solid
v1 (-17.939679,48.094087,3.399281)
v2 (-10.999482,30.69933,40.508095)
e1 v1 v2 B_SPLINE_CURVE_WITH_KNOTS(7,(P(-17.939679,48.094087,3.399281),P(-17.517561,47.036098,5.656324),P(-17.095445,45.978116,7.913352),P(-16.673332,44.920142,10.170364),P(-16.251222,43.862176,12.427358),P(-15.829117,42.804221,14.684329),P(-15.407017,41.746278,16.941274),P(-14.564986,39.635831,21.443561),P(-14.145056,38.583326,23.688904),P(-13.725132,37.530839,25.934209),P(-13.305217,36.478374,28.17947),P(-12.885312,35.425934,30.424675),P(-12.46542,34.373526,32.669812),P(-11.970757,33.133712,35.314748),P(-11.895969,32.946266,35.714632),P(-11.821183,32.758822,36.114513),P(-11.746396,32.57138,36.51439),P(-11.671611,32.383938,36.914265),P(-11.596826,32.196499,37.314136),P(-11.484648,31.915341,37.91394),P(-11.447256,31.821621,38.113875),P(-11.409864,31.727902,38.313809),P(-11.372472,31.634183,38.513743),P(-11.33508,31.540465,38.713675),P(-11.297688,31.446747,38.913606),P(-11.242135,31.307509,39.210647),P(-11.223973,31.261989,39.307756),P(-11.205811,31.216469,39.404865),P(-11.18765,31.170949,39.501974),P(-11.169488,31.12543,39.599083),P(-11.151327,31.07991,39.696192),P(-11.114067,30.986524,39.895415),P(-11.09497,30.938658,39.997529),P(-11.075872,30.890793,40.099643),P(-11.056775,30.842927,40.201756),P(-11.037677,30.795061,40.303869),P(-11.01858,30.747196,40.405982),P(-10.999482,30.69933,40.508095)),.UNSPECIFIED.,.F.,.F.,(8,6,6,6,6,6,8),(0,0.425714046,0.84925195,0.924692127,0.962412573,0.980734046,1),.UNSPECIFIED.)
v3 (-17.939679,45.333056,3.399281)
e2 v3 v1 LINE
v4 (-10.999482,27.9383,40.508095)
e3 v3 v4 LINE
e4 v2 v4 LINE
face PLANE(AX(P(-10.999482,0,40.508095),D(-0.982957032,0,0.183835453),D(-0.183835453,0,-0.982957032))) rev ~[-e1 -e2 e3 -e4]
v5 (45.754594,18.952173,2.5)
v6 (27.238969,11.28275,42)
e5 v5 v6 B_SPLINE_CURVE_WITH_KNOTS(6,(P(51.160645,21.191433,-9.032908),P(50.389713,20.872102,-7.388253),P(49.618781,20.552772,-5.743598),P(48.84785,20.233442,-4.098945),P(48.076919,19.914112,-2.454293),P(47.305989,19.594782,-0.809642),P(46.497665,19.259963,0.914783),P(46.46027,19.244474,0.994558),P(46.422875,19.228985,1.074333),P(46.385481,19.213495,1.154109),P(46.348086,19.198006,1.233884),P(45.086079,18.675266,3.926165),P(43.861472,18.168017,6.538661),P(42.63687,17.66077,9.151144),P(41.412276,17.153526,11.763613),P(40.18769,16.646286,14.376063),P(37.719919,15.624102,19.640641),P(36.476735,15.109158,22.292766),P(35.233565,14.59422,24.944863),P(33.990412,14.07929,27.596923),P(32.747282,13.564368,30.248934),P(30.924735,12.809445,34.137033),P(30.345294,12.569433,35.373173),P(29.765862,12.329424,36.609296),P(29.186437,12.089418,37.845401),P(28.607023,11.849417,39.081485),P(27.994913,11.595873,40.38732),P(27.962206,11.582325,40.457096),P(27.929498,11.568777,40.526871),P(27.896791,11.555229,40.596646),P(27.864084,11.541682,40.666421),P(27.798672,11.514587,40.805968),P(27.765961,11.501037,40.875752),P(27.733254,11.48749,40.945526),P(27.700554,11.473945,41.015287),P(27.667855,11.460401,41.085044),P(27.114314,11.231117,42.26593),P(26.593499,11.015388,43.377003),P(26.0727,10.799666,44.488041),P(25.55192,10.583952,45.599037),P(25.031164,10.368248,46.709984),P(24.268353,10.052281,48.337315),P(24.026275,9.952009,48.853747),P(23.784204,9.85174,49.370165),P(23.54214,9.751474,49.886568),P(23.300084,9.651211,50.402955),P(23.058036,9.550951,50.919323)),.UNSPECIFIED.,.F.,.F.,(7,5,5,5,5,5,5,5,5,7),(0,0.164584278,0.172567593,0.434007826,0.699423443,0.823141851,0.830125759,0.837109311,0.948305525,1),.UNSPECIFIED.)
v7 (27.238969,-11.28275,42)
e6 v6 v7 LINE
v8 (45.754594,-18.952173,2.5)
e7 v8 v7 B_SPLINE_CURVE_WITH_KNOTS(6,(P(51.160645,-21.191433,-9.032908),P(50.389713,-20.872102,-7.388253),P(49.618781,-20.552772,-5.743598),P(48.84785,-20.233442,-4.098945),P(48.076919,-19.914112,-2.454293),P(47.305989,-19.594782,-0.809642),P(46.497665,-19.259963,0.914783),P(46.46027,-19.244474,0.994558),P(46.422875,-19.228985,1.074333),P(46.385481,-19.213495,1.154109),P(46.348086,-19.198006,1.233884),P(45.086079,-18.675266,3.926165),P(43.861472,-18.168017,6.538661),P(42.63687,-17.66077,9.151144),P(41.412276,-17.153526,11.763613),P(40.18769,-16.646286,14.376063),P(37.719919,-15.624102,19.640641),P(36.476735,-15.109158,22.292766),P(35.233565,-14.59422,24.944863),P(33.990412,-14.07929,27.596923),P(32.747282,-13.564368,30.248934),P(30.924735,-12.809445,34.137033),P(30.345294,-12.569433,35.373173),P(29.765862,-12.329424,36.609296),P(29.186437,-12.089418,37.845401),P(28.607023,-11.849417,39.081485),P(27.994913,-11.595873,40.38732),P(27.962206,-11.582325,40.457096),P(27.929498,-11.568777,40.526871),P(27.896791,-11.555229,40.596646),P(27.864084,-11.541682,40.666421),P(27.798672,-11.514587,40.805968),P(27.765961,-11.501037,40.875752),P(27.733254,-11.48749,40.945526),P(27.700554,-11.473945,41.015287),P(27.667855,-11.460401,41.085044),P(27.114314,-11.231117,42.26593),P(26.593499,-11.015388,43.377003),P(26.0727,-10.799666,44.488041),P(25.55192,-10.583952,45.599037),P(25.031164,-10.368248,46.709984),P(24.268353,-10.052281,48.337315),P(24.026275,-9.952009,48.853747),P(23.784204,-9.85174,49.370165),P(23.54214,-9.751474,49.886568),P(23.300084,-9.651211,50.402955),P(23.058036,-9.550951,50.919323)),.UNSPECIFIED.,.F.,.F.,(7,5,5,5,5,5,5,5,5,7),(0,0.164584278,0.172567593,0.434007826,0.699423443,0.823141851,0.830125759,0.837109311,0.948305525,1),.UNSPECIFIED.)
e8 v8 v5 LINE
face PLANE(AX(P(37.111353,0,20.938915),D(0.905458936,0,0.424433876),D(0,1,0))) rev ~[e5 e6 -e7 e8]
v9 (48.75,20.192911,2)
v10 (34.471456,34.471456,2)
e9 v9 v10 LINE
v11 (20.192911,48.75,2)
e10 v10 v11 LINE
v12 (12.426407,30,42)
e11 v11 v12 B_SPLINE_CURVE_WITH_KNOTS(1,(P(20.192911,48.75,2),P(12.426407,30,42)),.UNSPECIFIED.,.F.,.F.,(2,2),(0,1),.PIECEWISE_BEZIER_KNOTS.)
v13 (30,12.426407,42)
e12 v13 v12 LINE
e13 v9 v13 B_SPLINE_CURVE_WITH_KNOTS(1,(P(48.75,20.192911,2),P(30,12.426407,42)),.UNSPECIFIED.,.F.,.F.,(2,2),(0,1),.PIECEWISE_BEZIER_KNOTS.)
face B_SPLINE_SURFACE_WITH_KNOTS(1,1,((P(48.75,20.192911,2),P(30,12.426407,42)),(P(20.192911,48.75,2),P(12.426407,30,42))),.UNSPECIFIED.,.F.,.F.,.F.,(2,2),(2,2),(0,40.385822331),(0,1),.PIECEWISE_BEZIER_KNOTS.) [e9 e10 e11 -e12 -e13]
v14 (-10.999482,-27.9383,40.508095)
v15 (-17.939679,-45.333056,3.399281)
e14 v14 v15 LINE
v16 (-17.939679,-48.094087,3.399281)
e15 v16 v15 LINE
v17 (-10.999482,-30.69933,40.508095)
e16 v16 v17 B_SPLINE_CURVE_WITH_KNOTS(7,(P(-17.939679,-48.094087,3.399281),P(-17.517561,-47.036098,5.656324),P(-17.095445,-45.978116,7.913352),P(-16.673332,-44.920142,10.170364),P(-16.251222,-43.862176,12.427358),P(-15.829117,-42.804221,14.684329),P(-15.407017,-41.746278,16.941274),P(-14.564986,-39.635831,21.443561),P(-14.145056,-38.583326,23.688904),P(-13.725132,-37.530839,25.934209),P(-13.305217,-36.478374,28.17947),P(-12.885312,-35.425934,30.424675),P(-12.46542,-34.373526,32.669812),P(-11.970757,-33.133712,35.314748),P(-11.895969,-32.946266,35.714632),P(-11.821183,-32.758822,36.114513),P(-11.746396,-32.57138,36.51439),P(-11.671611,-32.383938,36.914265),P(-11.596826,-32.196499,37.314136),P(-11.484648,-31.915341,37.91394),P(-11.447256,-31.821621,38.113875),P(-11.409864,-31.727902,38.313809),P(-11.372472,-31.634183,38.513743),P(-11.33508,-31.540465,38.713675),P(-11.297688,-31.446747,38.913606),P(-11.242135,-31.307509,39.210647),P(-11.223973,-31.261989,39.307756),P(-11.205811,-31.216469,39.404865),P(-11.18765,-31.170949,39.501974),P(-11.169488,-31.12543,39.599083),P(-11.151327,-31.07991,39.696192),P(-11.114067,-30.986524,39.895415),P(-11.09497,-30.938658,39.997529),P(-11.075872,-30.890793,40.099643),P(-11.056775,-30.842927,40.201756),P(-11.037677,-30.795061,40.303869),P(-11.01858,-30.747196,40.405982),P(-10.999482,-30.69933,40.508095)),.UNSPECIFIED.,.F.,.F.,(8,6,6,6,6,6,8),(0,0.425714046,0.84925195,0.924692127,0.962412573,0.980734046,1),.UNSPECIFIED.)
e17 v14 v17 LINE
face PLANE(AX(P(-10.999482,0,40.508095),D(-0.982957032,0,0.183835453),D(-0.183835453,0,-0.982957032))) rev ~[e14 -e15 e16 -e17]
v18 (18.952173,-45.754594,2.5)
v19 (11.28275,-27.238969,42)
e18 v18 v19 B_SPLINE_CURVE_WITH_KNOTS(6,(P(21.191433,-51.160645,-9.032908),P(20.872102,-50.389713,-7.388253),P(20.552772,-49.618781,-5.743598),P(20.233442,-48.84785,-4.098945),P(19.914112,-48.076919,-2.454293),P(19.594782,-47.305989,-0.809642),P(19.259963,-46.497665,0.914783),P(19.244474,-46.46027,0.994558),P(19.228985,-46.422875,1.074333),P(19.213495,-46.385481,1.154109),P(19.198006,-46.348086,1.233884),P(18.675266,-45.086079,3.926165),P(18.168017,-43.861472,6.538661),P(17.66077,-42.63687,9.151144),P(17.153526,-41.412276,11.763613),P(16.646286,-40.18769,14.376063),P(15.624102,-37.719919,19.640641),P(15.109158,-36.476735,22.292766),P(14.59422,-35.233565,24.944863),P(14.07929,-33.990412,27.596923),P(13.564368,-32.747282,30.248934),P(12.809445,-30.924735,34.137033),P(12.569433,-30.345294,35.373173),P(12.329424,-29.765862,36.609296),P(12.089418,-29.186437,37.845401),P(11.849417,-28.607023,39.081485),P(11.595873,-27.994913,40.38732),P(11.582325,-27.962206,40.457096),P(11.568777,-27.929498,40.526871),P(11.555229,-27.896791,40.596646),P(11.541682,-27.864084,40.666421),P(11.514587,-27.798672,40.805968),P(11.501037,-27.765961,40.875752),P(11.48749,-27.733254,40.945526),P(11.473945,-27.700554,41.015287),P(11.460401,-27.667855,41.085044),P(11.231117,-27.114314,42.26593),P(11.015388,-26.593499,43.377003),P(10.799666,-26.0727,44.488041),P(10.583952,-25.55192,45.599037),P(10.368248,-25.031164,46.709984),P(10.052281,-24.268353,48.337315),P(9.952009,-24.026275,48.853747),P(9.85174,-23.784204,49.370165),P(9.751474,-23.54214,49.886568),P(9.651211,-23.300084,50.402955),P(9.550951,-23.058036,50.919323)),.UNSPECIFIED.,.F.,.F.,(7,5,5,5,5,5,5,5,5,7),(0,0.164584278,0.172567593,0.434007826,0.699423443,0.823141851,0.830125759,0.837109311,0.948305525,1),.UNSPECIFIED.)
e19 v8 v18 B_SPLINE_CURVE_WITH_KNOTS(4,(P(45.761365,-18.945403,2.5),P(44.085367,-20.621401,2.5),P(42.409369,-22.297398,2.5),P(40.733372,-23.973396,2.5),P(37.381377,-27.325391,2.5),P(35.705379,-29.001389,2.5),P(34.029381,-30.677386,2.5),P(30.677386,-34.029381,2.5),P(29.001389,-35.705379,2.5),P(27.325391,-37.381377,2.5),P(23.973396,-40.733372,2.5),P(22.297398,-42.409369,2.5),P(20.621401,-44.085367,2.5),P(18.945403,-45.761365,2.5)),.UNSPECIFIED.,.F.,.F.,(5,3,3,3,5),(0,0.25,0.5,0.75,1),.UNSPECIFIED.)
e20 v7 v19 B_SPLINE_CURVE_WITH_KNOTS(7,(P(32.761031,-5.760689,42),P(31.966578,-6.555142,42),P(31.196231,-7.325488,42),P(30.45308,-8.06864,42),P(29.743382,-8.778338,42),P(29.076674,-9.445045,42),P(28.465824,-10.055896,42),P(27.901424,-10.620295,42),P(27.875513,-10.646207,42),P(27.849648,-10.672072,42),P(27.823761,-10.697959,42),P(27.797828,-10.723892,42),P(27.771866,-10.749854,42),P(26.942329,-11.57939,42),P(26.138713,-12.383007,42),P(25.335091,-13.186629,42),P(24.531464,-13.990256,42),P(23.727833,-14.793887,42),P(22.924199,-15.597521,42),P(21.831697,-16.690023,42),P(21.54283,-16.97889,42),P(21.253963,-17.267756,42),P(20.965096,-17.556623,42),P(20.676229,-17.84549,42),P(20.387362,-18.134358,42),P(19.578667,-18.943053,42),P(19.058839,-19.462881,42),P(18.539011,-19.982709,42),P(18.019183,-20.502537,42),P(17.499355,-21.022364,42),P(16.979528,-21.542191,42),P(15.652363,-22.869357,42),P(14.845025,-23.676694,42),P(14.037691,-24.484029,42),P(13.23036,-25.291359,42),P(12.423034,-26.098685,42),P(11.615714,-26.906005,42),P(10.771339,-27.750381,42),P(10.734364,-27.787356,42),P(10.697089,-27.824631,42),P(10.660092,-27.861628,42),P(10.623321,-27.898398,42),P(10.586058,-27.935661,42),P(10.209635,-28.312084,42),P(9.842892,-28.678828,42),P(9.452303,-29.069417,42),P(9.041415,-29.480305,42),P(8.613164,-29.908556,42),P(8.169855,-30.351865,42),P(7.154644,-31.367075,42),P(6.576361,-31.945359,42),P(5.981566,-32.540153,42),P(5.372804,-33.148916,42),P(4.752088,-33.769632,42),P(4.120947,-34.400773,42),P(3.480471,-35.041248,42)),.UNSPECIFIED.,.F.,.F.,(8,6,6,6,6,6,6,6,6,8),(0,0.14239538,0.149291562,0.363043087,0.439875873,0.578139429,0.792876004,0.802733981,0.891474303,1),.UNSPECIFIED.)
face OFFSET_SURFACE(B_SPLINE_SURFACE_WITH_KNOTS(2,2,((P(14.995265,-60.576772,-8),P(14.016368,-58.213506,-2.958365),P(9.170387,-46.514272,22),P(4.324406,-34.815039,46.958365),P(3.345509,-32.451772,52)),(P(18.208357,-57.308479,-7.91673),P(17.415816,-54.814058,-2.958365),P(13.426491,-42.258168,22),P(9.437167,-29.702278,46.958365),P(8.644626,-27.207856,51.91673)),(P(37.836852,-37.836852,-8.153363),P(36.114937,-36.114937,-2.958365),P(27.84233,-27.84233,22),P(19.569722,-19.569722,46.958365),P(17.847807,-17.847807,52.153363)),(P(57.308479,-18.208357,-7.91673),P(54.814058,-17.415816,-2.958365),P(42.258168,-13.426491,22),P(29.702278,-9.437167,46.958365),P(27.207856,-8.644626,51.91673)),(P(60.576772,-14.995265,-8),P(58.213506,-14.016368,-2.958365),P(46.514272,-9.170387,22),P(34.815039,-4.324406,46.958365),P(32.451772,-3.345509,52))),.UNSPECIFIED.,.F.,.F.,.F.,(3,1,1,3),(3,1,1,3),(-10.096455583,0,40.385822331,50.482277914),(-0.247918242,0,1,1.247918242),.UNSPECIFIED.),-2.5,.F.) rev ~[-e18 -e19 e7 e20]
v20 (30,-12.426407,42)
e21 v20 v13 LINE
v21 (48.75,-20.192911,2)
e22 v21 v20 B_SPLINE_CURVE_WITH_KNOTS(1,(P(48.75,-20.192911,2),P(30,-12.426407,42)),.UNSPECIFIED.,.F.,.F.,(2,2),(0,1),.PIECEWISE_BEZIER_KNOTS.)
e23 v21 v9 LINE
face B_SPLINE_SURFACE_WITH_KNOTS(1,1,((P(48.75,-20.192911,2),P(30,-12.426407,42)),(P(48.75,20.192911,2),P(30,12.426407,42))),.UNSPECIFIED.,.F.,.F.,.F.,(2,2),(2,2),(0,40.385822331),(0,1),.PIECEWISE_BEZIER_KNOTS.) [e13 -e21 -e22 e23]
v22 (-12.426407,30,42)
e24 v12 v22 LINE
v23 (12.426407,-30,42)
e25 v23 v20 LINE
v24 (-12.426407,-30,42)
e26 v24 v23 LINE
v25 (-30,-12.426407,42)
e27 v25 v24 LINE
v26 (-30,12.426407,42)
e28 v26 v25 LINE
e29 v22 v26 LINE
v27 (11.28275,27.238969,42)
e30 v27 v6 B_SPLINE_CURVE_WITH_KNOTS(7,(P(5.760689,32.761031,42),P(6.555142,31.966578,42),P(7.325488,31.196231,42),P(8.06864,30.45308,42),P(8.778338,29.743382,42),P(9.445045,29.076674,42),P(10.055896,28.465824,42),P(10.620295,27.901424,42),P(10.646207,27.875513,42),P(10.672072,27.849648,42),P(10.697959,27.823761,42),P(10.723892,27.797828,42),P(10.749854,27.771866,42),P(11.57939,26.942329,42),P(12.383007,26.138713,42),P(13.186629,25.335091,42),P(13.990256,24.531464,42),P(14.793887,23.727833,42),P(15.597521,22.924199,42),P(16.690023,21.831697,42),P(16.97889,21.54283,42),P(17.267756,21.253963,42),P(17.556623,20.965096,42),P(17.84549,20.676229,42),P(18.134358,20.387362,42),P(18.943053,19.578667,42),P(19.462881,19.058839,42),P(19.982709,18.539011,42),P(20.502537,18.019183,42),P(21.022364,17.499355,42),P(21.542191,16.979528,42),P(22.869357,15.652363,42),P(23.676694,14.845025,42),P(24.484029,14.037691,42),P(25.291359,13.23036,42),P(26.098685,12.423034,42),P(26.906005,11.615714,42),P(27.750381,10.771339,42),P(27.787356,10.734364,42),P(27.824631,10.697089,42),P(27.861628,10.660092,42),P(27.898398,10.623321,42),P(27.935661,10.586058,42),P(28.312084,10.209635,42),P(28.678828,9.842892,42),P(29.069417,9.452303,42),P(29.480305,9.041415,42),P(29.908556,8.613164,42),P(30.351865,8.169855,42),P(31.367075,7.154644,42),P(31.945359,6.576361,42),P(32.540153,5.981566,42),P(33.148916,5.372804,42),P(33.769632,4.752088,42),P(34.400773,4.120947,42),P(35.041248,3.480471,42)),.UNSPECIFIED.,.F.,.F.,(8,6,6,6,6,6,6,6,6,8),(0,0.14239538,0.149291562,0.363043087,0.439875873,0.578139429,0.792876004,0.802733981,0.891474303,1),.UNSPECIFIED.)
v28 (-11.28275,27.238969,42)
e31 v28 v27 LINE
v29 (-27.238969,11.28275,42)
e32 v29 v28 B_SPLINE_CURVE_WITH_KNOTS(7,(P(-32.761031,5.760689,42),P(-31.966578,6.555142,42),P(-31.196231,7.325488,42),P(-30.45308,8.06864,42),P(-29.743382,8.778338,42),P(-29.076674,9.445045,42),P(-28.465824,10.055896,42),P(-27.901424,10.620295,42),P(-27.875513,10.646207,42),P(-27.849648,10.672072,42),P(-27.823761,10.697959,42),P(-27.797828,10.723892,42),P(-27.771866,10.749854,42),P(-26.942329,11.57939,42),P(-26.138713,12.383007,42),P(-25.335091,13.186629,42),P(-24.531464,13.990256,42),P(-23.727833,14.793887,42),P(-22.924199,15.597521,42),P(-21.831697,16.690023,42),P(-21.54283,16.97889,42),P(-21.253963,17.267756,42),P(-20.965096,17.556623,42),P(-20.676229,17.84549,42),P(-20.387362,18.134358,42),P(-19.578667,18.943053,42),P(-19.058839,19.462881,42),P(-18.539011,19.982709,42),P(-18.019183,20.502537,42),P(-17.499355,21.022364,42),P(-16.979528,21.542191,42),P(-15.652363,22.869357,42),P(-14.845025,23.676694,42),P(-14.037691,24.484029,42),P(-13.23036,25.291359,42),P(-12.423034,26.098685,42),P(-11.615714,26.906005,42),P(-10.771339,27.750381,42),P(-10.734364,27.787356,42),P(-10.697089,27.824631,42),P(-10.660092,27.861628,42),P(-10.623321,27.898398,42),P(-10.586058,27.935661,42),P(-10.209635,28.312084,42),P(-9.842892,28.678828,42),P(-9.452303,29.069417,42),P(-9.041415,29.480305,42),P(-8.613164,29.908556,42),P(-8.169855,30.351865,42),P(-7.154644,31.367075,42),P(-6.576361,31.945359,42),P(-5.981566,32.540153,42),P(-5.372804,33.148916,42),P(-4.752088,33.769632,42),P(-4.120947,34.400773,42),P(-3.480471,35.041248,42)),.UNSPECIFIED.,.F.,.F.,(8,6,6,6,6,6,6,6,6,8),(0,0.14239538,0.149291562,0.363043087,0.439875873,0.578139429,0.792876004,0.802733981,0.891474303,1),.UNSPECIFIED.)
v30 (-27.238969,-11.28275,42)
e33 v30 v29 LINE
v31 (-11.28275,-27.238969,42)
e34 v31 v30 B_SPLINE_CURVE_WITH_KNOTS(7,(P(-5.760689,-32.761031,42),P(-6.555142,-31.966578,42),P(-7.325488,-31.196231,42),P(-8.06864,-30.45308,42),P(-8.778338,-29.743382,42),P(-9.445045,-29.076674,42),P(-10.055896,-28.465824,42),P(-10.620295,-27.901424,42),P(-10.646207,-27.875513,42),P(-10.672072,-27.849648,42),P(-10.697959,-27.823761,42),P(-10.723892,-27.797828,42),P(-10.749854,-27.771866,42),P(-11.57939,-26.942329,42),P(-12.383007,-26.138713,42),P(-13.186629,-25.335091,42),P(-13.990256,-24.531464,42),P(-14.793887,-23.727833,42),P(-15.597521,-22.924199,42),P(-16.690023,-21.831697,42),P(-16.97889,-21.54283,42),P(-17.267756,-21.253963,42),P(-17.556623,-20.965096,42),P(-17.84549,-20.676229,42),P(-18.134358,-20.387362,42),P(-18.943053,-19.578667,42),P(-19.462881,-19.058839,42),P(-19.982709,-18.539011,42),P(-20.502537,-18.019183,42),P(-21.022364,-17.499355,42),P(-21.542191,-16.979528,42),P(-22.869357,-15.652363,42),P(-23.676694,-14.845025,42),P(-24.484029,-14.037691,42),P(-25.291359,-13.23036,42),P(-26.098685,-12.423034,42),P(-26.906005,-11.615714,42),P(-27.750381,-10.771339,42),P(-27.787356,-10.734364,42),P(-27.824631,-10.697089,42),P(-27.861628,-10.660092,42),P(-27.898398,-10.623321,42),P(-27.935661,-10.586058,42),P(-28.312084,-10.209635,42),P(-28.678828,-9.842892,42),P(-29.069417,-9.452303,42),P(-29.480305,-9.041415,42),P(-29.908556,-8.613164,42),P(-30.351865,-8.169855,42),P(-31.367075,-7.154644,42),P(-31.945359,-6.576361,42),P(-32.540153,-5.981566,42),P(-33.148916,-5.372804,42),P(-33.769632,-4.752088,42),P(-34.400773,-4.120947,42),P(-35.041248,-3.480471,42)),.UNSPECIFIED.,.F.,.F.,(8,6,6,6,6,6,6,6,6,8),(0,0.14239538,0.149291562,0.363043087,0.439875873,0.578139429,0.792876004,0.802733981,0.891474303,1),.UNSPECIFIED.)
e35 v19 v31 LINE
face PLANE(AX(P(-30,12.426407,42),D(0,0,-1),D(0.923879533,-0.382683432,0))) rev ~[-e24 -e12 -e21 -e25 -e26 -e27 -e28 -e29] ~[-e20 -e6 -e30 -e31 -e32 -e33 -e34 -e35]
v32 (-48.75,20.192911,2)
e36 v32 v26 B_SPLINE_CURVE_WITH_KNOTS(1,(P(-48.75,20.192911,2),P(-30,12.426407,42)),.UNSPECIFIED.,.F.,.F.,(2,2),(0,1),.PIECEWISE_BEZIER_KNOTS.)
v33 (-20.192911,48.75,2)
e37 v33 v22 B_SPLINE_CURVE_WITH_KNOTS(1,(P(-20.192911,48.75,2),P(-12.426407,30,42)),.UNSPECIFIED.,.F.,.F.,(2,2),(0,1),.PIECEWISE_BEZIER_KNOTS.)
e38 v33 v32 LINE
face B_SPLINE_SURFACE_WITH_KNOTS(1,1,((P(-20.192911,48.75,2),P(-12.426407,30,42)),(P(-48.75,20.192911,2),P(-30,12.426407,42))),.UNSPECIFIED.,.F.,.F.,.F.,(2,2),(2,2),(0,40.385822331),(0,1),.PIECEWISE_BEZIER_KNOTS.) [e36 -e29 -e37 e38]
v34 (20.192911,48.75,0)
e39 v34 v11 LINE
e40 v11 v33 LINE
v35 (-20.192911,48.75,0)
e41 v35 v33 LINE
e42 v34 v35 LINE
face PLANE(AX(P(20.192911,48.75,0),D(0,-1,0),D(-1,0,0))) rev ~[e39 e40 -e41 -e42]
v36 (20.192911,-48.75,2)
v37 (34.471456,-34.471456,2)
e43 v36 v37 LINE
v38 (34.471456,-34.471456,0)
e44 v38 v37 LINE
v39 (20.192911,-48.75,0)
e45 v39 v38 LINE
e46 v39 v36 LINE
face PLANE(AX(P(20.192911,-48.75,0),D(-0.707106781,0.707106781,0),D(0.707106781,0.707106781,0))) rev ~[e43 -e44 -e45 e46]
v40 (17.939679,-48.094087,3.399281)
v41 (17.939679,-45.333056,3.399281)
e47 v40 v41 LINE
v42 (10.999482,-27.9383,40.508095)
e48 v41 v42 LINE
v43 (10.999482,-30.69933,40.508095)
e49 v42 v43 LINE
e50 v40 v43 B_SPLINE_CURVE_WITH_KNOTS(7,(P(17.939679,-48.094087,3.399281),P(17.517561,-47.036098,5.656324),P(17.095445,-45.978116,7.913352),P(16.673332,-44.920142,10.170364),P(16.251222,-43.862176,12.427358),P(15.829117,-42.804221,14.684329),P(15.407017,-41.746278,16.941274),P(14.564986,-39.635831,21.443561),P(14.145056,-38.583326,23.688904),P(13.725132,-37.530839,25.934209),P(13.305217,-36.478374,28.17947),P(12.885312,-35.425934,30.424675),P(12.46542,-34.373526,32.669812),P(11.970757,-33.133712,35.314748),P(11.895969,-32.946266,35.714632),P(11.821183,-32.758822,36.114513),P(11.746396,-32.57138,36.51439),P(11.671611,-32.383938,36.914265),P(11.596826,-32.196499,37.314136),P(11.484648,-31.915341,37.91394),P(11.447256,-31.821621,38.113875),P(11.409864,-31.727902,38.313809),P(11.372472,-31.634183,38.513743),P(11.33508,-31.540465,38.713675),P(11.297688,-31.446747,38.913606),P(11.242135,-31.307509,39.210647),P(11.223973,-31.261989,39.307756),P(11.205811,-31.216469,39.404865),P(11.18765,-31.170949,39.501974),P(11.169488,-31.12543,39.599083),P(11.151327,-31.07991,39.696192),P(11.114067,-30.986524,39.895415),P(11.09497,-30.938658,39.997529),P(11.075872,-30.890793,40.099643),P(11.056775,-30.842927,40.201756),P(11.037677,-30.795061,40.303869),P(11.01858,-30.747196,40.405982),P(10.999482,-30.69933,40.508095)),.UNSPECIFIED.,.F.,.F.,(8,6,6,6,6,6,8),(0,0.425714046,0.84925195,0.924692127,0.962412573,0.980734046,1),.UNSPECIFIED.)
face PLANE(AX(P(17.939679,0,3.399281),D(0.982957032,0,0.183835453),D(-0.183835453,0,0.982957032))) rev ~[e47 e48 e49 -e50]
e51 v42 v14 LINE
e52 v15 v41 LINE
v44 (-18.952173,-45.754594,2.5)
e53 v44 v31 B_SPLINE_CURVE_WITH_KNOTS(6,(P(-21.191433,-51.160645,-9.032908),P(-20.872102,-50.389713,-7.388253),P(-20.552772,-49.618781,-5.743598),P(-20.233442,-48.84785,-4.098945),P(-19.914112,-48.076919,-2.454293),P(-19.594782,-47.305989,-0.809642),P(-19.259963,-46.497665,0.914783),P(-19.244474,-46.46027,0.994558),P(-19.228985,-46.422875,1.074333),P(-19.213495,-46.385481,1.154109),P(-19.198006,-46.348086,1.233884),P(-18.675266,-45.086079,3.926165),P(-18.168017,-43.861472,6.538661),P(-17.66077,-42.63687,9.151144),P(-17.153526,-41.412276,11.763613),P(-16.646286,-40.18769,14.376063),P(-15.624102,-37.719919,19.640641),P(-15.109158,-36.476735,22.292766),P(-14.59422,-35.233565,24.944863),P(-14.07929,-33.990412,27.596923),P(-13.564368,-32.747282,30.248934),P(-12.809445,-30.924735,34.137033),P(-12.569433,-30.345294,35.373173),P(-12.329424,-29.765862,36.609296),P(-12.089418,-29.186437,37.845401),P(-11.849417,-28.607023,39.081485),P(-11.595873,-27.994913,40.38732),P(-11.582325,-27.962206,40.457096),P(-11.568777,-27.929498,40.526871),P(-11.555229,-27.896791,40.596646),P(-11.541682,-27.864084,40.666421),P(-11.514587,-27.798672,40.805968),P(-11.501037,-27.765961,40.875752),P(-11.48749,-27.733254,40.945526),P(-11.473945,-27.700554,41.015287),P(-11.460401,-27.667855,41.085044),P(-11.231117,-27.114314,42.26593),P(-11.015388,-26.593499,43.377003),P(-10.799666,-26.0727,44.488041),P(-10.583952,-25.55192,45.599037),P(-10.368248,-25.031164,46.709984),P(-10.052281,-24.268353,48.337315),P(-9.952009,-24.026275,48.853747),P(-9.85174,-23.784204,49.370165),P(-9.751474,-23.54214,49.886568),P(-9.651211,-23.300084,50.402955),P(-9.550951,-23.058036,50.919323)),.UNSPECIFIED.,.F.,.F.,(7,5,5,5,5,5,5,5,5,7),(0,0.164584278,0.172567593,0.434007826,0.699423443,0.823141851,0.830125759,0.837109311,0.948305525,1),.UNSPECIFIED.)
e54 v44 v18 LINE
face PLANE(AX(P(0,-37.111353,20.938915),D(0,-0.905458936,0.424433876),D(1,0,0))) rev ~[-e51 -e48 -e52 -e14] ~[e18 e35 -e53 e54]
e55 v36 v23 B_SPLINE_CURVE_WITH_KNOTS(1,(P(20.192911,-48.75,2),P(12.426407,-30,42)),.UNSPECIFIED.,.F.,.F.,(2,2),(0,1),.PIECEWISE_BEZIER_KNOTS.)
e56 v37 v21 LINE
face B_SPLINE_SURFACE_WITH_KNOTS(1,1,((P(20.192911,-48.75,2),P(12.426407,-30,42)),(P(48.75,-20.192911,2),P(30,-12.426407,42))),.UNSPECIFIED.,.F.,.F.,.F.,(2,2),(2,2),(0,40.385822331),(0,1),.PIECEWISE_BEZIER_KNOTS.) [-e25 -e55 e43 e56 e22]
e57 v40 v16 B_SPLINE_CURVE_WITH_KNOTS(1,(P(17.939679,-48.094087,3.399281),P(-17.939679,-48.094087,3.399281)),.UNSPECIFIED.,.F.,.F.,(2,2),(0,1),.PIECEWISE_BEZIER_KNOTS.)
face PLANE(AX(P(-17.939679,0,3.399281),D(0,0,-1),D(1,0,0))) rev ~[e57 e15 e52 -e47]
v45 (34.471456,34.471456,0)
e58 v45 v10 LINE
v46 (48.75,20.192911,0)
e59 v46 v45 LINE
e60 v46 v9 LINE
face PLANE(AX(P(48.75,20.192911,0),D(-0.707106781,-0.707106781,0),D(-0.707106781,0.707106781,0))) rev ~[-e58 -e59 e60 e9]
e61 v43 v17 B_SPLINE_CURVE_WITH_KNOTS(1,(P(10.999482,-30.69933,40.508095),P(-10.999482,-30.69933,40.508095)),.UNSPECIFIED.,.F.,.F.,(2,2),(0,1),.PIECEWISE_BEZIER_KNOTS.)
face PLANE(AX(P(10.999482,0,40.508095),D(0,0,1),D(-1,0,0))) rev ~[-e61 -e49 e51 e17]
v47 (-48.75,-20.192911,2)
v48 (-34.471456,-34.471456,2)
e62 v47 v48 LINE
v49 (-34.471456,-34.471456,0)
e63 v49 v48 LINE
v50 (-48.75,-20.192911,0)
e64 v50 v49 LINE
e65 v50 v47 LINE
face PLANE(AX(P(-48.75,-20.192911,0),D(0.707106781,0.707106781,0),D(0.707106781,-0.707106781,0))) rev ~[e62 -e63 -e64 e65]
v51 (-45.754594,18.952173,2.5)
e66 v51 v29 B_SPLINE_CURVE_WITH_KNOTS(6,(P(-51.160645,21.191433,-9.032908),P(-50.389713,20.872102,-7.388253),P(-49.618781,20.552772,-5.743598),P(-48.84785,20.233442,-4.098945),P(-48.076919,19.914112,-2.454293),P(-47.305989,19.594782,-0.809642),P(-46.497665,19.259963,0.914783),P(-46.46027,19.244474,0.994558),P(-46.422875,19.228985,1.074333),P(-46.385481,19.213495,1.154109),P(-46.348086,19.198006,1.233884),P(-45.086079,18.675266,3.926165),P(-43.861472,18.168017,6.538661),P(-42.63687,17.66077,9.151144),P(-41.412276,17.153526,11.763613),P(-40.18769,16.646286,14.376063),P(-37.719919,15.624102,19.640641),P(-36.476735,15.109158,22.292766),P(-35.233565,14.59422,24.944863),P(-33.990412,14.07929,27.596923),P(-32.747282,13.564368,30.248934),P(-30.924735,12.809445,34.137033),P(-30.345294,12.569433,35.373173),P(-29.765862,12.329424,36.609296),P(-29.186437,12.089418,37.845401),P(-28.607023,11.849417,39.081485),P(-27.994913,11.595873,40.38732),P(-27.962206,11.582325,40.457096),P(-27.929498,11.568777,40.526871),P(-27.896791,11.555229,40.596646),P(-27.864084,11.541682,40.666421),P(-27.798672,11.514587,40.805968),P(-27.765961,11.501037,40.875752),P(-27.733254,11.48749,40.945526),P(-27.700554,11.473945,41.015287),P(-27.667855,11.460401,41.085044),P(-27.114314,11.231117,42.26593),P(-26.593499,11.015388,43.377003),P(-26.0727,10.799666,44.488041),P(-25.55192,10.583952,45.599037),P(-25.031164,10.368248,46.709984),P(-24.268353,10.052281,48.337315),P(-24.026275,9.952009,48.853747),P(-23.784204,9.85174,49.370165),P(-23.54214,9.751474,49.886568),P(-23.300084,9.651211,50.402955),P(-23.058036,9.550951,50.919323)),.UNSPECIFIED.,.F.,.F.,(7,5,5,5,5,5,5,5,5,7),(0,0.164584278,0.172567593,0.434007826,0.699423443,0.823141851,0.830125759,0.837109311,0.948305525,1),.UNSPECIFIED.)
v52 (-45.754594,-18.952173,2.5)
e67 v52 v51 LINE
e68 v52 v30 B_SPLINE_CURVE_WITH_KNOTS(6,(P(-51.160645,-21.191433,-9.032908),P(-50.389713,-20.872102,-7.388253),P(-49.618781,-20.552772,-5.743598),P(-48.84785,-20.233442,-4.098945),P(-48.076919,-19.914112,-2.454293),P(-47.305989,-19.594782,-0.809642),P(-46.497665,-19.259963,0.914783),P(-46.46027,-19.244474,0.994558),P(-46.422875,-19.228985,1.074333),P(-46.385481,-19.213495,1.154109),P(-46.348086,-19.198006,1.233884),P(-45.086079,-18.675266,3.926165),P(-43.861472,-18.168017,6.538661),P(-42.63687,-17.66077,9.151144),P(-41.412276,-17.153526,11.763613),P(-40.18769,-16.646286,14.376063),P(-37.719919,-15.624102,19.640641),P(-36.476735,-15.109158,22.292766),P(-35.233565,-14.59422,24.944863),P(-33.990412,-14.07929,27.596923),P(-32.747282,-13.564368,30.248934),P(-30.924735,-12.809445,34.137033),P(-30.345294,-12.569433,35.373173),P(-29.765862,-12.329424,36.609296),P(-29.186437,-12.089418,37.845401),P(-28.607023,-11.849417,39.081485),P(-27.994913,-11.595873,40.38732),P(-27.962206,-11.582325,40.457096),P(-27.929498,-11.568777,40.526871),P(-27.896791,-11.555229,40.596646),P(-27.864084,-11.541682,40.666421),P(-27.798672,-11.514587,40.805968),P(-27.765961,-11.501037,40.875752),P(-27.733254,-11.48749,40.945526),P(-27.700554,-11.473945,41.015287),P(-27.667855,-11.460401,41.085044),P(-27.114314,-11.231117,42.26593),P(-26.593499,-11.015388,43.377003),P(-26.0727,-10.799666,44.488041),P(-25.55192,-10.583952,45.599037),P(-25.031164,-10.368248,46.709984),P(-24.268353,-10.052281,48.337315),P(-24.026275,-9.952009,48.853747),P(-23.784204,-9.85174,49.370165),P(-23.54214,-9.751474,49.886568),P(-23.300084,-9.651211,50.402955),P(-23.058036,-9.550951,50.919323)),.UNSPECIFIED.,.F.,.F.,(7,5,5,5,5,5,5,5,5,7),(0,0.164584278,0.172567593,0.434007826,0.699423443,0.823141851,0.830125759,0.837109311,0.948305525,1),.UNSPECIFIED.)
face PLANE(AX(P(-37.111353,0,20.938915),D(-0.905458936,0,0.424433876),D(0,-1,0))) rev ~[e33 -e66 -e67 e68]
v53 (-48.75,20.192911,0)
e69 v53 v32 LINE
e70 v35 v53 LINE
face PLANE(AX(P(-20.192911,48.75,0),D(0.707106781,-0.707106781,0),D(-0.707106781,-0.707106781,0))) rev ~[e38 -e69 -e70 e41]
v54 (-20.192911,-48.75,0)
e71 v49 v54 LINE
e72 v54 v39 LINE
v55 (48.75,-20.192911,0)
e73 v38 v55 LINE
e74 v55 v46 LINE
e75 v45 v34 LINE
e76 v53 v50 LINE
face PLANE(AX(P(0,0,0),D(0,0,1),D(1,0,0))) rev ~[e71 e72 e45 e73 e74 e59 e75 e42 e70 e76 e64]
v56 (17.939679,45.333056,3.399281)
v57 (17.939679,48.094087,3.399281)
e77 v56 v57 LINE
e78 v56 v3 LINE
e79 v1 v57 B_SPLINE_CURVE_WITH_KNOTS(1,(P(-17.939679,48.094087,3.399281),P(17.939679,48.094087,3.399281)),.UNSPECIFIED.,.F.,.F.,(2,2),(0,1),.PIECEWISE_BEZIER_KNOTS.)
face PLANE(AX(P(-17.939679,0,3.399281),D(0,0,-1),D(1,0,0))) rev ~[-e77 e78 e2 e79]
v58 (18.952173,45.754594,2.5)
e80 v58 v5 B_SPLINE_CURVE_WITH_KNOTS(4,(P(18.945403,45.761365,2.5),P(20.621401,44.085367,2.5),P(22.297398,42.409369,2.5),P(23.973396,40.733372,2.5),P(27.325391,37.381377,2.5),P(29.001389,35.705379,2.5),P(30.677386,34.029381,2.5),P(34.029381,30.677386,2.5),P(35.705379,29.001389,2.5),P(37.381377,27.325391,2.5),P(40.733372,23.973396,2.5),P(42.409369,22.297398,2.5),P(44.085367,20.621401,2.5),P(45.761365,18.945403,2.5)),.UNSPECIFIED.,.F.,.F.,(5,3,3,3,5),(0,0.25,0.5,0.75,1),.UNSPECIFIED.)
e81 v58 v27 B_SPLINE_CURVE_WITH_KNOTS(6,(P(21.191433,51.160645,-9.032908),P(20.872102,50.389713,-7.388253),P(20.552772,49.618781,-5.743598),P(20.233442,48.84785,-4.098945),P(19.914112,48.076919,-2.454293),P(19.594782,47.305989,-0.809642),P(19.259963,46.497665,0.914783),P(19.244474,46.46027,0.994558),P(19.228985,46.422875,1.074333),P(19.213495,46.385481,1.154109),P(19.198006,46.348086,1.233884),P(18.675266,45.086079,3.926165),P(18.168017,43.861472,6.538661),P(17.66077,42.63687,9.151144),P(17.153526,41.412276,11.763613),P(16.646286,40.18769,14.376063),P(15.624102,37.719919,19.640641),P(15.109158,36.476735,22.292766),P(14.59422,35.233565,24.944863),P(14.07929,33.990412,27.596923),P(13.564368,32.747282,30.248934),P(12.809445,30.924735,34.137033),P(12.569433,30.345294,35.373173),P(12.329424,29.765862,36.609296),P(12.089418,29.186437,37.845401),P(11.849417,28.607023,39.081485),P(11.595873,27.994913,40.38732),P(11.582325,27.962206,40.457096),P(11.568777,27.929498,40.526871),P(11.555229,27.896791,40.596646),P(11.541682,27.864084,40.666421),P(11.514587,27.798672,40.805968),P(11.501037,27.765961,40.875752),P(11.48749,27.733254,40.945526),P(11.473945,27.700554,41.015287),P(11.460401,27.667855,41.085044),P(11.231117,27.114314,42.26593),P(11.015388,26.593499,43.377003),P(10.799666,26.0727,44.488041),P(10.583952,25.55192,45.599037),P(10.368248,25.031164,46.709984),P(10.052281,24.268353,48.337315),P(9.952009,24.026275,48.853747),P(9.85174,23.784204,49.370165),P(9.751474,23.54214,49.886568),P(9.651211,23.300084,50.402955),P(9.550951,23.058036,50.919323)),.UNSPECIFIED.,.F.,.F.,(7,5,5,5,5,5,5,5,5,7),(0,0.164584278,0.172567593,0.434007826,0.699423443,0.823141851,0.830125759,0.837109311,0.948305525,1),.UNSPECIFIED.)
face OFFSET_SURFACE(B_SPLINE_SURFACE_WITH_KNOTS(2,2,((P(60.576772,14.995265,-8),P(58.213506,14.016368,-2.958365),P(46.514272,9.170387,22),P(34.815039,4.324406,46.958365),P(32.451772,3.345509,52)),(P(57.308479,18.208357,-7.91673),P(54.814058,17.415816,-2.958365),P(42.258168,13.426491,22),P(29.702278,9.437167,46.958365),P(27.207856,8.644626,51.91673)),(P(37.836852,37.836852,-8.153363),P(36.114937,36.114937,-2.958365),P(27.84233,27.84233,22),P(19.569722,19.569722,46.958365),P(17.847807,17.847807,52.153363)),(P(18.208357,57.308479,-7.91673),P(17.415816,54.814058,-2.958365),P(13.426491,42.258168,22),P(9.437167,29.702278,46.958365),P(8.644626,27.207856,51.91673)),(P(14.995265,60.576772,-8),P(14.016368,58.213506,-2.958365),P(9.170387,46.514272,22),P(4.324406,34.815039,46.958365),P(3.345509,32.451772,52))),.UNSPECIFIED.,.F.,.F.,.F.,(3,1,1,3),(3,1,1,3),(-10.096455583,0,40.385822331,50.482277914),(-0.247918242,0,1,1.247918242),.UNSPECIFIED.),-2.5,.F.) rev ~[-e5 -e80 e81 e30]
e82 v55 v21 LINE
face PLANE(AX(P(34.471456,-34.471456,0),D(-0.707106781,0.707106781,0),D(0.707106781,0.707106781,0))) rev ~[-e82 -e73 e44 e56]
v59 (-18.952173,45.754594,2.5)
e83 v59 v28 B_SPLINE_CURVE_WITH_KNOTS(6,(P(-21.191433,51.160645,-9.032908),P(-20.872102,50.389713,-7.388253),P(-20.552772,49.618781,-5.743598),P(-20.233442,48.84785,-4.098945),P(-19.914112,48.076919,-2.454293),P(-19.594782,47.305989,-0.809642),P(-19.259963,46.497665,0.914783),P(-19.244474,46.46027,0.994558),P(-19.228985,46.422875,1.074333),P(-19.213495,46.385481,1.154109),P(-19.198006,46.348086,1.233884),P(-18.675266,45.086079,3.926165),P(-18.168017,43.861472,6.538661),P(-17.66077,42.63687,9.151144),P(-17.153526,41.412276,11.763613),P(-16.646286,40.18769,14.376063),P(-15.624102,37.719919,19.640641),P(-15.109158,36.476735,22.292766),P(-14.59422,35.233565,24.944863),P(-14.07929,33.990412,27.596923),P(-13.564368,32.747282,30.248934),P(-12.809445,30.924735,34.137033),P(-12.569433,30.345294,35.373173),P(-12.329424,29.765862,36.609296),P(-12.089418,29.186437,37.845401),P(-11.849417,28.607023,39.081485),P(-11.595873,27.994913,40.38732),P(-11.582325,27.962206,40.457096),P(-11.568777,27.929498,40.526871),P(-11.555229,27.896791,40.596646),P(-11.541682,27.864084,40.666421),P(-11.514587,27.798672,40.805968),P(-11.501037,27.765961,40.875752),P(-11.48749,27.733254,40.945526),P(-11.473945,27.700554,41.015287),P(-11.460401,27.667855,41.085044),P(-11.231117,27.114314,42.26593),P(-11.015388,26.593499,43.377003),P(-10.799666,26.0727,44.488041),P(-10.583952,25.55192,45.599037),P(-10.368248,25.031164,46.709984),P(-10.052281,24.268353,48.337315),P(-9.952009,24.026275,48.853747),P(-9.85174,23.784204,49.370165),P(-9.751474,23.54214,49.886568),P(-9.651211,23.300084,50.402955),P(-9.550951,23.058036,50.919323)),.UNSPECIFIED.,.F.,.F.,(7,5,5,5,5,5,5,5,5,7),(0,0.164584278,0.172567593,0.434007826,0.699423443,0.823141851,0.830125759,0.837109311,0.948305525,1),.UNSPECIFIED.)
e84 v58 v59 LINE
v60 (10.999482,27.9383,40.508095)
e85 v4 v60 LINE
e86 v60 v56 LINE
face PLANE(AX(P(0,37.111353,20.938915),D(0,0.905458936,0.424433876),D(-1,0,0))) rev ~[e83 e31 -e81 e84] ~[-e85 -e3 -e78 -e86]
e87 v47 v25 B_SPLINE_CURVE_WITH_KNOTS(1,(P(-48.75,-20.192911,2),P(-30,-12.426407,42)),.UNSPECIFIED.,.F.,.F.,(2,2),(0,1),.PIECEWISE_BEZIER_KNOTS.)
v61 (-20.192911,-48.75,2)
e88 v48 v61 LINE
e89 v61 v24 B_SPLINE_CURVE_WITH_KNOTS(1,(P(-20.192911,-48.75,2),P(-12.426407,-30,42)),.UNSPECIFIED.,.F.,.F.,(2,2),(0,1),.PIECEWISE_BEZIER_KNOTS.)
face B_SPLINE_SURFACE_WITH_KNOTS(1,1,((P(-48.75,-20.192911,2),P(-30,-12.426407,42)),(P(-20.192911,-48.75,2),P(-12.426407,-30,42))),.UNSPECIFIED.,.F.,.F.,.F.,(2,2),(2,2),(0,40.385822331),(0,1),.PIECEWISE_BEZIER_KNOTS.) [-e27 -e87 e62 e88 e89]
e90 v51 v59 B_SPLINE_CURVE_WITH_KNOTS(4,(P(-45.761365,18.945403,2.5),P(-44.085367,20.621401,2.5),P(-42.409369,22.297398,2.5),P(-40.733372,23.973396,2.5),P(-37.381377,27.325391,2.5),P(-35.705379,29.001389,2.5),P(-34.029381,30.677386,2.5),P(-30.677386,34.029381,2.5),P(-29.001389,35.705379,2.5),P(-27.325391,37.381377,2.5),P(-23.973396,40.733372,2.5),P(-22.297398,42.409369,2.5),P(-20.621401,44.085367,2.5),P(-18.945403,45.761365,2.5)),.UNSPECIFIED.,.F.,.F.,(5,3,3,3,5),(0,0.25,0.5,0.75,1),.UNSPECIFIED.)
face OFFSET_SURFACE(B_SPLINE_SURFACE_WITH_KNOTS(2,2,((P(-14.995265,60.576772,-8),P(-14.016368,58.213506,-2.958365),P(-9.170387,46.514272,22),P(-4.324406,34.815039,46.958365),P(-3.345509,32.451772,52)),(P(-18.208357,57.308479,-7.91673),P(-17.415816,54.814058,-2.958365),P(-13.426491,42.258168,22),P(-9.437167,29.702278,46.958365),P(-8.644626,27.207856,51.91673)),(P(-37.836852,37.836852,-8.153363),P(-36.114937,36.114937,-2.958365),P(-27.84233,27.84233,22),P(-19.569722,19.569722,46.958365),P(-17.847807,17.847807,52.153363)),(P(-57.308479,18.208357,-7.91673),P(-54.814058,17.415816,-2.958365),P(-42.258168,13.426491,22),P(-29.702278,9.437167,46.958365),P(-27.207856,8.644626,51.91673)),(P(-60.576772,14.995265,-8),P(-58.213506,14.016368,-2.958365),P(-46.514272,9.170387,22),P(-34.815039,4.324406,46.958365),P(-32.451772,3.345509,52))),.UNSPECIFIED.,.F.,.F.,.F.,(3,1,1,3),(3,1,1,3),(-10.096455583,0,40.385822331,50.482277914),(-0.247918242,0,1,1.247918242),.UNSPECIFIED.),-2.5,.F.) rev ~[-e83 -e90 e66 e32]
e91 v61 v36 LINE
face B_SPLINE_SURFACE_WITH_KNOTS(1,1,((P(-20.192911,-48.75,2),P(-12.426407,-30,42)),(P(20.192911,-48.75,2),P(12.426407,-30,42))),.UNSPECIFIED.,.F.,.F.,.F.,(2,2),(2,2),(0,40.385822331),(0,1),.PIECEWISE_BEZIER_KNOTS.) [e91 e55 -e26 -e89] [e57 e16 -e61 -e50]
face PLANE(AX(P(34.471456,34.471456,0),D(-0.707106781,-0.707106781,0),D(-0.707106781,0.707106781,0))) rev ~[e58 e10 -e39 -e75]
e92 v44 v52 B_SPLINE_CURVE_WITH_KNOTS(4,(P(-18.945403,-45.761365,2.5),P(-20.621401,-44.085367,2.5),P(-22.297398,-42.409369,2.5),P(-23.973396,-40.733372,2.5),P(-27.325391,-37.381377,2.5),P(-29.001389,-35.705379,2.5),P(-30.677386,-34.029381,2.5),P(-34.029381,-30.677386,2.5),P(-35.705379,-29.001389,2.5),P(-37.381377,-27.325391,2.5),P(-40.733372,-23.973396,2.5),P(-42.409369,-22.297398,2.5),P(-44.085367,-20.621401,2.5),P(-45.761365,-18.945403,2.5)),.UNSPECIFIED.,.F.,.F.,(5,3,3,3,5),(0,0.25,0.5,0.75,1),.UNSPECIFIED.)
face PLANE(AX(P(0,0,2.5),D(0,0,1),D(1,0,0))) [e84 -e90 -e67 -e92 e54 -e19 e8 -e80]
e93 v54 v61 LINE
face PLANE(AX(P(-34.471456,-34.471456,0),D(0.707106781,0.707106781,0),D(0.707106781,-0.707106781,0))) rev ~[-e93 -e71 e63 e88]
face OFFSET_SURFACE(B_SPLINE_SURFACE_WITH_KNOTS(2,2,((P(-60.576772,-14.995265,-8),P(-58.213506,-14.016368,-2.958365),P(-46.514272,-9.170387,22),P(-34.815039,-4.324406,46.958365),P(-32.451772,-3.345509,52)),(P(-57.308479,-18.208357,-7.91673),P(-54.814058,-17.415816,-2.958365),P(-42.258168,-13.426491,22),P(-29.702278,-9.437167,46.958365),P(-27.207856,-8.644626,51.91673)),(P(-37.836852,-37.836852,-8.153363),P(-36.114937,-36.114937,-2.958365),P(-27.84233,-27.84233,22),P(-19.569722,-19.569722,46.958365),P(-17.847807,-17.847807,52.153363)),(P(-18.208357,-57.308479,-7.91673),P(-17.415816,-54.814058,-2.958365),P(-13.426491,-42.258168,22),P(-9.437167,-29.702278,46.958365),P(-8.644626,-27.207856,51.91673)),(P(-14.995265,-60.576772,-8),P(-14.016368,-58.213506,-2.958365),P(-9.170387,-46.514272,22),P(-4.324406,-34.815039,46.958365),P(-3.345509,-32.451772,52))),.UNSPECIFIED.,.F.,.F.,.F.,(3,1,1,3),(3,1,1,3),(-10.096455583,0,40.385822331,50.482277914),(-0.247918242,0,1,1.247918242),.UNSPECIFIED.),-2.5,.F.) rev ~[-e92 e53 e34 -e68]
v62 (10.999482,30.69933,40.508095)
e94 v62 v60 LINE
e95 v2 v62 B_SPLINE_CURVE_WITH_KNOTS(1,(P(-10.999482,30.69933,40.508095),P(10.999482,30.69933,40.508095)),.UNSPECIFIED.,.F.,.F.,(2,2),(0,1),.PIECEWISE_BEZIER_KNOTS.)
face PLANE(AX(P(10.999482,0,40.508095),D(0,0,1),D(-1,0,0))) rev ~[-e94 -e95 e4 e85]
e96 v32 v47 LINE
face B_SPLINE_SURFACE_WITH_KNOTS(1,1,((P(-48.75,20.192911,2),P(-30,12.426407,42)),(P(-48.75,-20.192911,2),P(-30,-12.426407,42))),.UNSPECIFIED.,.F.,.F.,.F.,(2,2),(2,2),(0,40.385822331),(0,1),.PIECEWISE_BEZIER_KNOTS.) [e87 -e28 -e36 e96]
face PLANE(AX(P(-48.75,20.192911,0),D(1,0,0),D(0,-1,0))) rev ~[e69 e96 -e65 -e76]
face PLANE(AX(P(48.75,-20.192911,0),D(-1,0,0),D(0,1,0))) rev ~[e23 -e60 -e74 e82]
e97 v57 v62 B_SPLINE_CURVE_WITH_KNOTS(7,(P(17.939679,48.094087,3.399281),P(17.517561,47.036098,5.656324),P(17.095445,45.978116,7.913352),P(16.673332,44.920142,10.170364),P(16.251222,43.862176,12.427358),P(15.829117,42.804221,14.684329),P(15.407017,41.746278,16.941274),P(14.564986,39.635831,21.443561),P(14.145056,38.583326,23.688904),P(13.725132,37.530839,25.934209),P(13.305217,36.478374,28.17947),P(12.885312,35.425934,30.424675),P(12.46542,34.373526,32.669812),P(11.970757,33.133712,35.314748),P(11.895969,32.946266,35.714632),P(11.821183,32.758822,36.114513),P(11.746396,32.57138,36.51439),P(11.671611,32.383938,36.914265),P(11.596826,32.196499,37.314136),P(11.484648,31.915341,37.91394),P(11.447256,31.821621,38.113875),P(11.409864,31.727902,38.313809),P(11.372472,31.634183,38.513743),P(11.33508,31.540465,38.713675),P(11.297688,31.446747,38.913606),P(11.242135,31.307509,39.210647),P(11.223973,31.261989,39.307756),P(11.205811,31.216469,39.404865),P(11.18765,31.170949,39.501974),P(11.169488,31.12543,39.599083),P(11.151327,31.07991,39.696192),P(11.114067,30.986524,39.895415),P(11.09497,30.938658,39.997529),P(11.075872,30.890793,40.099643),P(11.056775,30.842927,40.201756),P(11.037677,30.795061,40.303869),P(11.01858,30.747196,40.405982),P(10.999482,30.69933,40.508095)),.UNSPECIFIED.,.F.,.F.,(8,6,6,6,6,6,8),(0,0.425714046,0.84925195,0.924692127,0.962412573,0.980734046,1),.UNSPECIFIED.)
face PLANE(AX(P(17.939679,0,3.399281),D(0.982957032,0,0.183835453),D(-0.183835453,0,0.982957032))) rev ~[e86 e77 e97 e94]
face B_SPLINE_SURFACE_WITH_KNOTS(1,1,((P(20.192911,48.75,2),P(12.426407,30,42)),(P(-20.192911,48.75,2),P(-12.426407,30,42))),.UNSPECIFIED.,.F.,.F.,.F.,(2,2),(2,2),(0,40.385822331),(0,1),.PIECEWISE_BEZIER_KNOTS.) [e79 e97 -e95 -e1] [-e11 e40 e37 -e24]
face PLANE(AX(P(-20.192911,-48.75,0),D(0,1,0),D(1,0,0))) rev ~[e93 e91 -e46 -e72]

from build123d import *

# Parameters (mm, degrees)
F1_DEPTH = 2
F6_T     = -2.5
F8_DEPTH = 84.8


with BuildPart() as f1:
    # F0 (on Top) → F1 (new body)
    with BuildSketch(Plane.XY):
        with BuildLine():
            ThreePointArc((34.4714555828, -34.4714555828), (45.0391272099, -18.6558173278), (48.75, 0))
            ThreePointArc((48.75, 0), (45.0391271917, 18.6558173718), (34.4714555154, 34.4714556502))
            ThreePointArc((34.4714555154, 34.4714556502), (18.655817355, 45.0391271987), (1.543e-07, 48.75))
            ThreePointArc((1.543e-07, 48.75), (-18.6558172398, 45.0391272464), (-34.4714555572, 34.4714556085))
            ThreePointArc((-34.4714555572, 34.4714556085), (-45.039127203, 18.6558173446), (-48.75, 0))
            ThreePointArc((-48.75, 0), (-45.0391272099, -18.6558173278), (-34.4714555828, -34.4714555828))
            ThreePointArc((-34.4714555828, -34.4714555828), (-18.6558173238, -45.0391272116), (8.6e-09, -48.75))
            ThreePointArc((8.6e-09, -48.75), (18.6558173318, -45.0391272083), (34.4714555828, -34.4714555828))
        make_face()
        with BuildLine():
            Line((48.75, -20.1929111657), (48.75, 0))
            ThreePointArc((48.75, 0), (45.0391272099, -18.6558173278), (34.4714555828, -34.4714555828))
            Line((34.4714555828, -34.4714555828), (48.75, -20.1929111657))
        make_face()
        with BuildLine():
            ThreePointArc((34.4714555154, 34.4714556502), (45.0391271917, 18.6558173718), (48.75, 0))
            Line((48.75, 0), (48.75, 20.1929111657))
            Line((48.75, 20.1929111657), (34.4714555154, 34.4714556502))
        make_face()
        with BuildLine():
            ThreePointArc((1.543e-07, 48.75), (18.655817355, 45.0391271987), (34.4714555154, 34.4714556502))
            Line((34.4714555154, 34.4714556502), (20.1929111657, 48.75))
            Line((20.1929111657, 48.75), (1.543e-07, 48.75))
        make_face()
        with BuildLine():
            Line((20.1929111657, -48.75), (34.4714555828, -34.4714555828))
            ThreePointArc((34.4714555828, -34.4714555828), (18.6558173318, -45.0391272083), (8.6e-09, -48.75))
            Line((8.6e-09, -48.75), (20.1929111657, -48.75))
        make_face()
        with BuildLine():
            ThreePointArc((-34.4714555572, 34.4714556085), (-18.6558172398, 45.0391272464), (1.543e-07, 48.75))
            Line((1.543e-07, 48.75), (-20.1929111657, 48.75))
            Line((-20.1929111657, 48.75), (-34.4714555572, 34.4714556085))
        make_face()
        with BuildLine():
            Line((-20.1929111657, -48.75), (8.6e-09, -48.75))
            ThreePointArc((8.6e-09, -48.75), (-18.6558173238, -45.0391272116), (-34.4714555828, -34.4714555828))
            Line((-34.4714555828, -34.4714555828), (-20.1929111657, -48.75))
        make_face()
        with BuildLine():
            ThreePointArc((-48.75, 0), (-45.039127203, 18.6558173446), (-34.4714555572, 34.4714556085))
            Line((-34.4714555572, 34.4714556085), (-48.75, 20.1929111657))
            Line((-48.75, 20.1929111657), (-48.75, 0))
        make_face()
        with BuildLine():
            Line((-48.75, -20.1929111657), (-34.4714555828, -34.4714555828))
            ThreePointArc((-34.4714555828, -34.4714555828), (-45.0391272099, -18.6558173278), (-48.75, 0))
            Line((-48.75, 0), (-48.75, -20.1929111657))
        make_face()
    extrude(amount=F1_DEPTH)

    # F4 (on face) → F5 section 0
    with BuildSketch(Plane.XY.offset(2)):
        Polygon((-48.75, 20.1929111657), (-48.75, -20.1929111657), (-20.1929111657, -48.75), (20.1929111657, -48.75), (48.75, -20.1929111657), (48.75, 20.1929111657), (20.1929111657, 48.75), (-20.1929111657, 48.75), align=None)
    # F3 (on offset) → F5 section 1
    with BuildSketch(Plane.XY.offset(42)):
        Polygon((-30, 12.4264068712), (-30, -12.4264068712), (-12.4264068712, -30), (12.4264068712, -30), (30, -12.4264068712), (30, 12.4264068712), (12.4264068712, 30), (-12.4264068712, 30), align=None)
    loft()

    # F6
    f6_openings = [f1.faces().sort_by_distance(p)[0] for p in [
        (0, 0, 42),
    ]]
    offset(amount=F6_T, openings=f6_openings, kind=Kind.INTERSECTION)

    # F7 (on Front) → F8 (cut, symmetric)
    with BuildSketch(Plane.XZ):
        Polygon((0, 3.399281064), (17.9396793246, 3.399281064), (10.999482125, 40.508095175), (0, 40.508095175), (-10.999482125, 40.508095175), (-17.9396793246, 3.399281064), align=None)
    extrude(amount=F8_DEPTH, both=True, mode=Mode.SUBTRACT)


solid = f1.part
